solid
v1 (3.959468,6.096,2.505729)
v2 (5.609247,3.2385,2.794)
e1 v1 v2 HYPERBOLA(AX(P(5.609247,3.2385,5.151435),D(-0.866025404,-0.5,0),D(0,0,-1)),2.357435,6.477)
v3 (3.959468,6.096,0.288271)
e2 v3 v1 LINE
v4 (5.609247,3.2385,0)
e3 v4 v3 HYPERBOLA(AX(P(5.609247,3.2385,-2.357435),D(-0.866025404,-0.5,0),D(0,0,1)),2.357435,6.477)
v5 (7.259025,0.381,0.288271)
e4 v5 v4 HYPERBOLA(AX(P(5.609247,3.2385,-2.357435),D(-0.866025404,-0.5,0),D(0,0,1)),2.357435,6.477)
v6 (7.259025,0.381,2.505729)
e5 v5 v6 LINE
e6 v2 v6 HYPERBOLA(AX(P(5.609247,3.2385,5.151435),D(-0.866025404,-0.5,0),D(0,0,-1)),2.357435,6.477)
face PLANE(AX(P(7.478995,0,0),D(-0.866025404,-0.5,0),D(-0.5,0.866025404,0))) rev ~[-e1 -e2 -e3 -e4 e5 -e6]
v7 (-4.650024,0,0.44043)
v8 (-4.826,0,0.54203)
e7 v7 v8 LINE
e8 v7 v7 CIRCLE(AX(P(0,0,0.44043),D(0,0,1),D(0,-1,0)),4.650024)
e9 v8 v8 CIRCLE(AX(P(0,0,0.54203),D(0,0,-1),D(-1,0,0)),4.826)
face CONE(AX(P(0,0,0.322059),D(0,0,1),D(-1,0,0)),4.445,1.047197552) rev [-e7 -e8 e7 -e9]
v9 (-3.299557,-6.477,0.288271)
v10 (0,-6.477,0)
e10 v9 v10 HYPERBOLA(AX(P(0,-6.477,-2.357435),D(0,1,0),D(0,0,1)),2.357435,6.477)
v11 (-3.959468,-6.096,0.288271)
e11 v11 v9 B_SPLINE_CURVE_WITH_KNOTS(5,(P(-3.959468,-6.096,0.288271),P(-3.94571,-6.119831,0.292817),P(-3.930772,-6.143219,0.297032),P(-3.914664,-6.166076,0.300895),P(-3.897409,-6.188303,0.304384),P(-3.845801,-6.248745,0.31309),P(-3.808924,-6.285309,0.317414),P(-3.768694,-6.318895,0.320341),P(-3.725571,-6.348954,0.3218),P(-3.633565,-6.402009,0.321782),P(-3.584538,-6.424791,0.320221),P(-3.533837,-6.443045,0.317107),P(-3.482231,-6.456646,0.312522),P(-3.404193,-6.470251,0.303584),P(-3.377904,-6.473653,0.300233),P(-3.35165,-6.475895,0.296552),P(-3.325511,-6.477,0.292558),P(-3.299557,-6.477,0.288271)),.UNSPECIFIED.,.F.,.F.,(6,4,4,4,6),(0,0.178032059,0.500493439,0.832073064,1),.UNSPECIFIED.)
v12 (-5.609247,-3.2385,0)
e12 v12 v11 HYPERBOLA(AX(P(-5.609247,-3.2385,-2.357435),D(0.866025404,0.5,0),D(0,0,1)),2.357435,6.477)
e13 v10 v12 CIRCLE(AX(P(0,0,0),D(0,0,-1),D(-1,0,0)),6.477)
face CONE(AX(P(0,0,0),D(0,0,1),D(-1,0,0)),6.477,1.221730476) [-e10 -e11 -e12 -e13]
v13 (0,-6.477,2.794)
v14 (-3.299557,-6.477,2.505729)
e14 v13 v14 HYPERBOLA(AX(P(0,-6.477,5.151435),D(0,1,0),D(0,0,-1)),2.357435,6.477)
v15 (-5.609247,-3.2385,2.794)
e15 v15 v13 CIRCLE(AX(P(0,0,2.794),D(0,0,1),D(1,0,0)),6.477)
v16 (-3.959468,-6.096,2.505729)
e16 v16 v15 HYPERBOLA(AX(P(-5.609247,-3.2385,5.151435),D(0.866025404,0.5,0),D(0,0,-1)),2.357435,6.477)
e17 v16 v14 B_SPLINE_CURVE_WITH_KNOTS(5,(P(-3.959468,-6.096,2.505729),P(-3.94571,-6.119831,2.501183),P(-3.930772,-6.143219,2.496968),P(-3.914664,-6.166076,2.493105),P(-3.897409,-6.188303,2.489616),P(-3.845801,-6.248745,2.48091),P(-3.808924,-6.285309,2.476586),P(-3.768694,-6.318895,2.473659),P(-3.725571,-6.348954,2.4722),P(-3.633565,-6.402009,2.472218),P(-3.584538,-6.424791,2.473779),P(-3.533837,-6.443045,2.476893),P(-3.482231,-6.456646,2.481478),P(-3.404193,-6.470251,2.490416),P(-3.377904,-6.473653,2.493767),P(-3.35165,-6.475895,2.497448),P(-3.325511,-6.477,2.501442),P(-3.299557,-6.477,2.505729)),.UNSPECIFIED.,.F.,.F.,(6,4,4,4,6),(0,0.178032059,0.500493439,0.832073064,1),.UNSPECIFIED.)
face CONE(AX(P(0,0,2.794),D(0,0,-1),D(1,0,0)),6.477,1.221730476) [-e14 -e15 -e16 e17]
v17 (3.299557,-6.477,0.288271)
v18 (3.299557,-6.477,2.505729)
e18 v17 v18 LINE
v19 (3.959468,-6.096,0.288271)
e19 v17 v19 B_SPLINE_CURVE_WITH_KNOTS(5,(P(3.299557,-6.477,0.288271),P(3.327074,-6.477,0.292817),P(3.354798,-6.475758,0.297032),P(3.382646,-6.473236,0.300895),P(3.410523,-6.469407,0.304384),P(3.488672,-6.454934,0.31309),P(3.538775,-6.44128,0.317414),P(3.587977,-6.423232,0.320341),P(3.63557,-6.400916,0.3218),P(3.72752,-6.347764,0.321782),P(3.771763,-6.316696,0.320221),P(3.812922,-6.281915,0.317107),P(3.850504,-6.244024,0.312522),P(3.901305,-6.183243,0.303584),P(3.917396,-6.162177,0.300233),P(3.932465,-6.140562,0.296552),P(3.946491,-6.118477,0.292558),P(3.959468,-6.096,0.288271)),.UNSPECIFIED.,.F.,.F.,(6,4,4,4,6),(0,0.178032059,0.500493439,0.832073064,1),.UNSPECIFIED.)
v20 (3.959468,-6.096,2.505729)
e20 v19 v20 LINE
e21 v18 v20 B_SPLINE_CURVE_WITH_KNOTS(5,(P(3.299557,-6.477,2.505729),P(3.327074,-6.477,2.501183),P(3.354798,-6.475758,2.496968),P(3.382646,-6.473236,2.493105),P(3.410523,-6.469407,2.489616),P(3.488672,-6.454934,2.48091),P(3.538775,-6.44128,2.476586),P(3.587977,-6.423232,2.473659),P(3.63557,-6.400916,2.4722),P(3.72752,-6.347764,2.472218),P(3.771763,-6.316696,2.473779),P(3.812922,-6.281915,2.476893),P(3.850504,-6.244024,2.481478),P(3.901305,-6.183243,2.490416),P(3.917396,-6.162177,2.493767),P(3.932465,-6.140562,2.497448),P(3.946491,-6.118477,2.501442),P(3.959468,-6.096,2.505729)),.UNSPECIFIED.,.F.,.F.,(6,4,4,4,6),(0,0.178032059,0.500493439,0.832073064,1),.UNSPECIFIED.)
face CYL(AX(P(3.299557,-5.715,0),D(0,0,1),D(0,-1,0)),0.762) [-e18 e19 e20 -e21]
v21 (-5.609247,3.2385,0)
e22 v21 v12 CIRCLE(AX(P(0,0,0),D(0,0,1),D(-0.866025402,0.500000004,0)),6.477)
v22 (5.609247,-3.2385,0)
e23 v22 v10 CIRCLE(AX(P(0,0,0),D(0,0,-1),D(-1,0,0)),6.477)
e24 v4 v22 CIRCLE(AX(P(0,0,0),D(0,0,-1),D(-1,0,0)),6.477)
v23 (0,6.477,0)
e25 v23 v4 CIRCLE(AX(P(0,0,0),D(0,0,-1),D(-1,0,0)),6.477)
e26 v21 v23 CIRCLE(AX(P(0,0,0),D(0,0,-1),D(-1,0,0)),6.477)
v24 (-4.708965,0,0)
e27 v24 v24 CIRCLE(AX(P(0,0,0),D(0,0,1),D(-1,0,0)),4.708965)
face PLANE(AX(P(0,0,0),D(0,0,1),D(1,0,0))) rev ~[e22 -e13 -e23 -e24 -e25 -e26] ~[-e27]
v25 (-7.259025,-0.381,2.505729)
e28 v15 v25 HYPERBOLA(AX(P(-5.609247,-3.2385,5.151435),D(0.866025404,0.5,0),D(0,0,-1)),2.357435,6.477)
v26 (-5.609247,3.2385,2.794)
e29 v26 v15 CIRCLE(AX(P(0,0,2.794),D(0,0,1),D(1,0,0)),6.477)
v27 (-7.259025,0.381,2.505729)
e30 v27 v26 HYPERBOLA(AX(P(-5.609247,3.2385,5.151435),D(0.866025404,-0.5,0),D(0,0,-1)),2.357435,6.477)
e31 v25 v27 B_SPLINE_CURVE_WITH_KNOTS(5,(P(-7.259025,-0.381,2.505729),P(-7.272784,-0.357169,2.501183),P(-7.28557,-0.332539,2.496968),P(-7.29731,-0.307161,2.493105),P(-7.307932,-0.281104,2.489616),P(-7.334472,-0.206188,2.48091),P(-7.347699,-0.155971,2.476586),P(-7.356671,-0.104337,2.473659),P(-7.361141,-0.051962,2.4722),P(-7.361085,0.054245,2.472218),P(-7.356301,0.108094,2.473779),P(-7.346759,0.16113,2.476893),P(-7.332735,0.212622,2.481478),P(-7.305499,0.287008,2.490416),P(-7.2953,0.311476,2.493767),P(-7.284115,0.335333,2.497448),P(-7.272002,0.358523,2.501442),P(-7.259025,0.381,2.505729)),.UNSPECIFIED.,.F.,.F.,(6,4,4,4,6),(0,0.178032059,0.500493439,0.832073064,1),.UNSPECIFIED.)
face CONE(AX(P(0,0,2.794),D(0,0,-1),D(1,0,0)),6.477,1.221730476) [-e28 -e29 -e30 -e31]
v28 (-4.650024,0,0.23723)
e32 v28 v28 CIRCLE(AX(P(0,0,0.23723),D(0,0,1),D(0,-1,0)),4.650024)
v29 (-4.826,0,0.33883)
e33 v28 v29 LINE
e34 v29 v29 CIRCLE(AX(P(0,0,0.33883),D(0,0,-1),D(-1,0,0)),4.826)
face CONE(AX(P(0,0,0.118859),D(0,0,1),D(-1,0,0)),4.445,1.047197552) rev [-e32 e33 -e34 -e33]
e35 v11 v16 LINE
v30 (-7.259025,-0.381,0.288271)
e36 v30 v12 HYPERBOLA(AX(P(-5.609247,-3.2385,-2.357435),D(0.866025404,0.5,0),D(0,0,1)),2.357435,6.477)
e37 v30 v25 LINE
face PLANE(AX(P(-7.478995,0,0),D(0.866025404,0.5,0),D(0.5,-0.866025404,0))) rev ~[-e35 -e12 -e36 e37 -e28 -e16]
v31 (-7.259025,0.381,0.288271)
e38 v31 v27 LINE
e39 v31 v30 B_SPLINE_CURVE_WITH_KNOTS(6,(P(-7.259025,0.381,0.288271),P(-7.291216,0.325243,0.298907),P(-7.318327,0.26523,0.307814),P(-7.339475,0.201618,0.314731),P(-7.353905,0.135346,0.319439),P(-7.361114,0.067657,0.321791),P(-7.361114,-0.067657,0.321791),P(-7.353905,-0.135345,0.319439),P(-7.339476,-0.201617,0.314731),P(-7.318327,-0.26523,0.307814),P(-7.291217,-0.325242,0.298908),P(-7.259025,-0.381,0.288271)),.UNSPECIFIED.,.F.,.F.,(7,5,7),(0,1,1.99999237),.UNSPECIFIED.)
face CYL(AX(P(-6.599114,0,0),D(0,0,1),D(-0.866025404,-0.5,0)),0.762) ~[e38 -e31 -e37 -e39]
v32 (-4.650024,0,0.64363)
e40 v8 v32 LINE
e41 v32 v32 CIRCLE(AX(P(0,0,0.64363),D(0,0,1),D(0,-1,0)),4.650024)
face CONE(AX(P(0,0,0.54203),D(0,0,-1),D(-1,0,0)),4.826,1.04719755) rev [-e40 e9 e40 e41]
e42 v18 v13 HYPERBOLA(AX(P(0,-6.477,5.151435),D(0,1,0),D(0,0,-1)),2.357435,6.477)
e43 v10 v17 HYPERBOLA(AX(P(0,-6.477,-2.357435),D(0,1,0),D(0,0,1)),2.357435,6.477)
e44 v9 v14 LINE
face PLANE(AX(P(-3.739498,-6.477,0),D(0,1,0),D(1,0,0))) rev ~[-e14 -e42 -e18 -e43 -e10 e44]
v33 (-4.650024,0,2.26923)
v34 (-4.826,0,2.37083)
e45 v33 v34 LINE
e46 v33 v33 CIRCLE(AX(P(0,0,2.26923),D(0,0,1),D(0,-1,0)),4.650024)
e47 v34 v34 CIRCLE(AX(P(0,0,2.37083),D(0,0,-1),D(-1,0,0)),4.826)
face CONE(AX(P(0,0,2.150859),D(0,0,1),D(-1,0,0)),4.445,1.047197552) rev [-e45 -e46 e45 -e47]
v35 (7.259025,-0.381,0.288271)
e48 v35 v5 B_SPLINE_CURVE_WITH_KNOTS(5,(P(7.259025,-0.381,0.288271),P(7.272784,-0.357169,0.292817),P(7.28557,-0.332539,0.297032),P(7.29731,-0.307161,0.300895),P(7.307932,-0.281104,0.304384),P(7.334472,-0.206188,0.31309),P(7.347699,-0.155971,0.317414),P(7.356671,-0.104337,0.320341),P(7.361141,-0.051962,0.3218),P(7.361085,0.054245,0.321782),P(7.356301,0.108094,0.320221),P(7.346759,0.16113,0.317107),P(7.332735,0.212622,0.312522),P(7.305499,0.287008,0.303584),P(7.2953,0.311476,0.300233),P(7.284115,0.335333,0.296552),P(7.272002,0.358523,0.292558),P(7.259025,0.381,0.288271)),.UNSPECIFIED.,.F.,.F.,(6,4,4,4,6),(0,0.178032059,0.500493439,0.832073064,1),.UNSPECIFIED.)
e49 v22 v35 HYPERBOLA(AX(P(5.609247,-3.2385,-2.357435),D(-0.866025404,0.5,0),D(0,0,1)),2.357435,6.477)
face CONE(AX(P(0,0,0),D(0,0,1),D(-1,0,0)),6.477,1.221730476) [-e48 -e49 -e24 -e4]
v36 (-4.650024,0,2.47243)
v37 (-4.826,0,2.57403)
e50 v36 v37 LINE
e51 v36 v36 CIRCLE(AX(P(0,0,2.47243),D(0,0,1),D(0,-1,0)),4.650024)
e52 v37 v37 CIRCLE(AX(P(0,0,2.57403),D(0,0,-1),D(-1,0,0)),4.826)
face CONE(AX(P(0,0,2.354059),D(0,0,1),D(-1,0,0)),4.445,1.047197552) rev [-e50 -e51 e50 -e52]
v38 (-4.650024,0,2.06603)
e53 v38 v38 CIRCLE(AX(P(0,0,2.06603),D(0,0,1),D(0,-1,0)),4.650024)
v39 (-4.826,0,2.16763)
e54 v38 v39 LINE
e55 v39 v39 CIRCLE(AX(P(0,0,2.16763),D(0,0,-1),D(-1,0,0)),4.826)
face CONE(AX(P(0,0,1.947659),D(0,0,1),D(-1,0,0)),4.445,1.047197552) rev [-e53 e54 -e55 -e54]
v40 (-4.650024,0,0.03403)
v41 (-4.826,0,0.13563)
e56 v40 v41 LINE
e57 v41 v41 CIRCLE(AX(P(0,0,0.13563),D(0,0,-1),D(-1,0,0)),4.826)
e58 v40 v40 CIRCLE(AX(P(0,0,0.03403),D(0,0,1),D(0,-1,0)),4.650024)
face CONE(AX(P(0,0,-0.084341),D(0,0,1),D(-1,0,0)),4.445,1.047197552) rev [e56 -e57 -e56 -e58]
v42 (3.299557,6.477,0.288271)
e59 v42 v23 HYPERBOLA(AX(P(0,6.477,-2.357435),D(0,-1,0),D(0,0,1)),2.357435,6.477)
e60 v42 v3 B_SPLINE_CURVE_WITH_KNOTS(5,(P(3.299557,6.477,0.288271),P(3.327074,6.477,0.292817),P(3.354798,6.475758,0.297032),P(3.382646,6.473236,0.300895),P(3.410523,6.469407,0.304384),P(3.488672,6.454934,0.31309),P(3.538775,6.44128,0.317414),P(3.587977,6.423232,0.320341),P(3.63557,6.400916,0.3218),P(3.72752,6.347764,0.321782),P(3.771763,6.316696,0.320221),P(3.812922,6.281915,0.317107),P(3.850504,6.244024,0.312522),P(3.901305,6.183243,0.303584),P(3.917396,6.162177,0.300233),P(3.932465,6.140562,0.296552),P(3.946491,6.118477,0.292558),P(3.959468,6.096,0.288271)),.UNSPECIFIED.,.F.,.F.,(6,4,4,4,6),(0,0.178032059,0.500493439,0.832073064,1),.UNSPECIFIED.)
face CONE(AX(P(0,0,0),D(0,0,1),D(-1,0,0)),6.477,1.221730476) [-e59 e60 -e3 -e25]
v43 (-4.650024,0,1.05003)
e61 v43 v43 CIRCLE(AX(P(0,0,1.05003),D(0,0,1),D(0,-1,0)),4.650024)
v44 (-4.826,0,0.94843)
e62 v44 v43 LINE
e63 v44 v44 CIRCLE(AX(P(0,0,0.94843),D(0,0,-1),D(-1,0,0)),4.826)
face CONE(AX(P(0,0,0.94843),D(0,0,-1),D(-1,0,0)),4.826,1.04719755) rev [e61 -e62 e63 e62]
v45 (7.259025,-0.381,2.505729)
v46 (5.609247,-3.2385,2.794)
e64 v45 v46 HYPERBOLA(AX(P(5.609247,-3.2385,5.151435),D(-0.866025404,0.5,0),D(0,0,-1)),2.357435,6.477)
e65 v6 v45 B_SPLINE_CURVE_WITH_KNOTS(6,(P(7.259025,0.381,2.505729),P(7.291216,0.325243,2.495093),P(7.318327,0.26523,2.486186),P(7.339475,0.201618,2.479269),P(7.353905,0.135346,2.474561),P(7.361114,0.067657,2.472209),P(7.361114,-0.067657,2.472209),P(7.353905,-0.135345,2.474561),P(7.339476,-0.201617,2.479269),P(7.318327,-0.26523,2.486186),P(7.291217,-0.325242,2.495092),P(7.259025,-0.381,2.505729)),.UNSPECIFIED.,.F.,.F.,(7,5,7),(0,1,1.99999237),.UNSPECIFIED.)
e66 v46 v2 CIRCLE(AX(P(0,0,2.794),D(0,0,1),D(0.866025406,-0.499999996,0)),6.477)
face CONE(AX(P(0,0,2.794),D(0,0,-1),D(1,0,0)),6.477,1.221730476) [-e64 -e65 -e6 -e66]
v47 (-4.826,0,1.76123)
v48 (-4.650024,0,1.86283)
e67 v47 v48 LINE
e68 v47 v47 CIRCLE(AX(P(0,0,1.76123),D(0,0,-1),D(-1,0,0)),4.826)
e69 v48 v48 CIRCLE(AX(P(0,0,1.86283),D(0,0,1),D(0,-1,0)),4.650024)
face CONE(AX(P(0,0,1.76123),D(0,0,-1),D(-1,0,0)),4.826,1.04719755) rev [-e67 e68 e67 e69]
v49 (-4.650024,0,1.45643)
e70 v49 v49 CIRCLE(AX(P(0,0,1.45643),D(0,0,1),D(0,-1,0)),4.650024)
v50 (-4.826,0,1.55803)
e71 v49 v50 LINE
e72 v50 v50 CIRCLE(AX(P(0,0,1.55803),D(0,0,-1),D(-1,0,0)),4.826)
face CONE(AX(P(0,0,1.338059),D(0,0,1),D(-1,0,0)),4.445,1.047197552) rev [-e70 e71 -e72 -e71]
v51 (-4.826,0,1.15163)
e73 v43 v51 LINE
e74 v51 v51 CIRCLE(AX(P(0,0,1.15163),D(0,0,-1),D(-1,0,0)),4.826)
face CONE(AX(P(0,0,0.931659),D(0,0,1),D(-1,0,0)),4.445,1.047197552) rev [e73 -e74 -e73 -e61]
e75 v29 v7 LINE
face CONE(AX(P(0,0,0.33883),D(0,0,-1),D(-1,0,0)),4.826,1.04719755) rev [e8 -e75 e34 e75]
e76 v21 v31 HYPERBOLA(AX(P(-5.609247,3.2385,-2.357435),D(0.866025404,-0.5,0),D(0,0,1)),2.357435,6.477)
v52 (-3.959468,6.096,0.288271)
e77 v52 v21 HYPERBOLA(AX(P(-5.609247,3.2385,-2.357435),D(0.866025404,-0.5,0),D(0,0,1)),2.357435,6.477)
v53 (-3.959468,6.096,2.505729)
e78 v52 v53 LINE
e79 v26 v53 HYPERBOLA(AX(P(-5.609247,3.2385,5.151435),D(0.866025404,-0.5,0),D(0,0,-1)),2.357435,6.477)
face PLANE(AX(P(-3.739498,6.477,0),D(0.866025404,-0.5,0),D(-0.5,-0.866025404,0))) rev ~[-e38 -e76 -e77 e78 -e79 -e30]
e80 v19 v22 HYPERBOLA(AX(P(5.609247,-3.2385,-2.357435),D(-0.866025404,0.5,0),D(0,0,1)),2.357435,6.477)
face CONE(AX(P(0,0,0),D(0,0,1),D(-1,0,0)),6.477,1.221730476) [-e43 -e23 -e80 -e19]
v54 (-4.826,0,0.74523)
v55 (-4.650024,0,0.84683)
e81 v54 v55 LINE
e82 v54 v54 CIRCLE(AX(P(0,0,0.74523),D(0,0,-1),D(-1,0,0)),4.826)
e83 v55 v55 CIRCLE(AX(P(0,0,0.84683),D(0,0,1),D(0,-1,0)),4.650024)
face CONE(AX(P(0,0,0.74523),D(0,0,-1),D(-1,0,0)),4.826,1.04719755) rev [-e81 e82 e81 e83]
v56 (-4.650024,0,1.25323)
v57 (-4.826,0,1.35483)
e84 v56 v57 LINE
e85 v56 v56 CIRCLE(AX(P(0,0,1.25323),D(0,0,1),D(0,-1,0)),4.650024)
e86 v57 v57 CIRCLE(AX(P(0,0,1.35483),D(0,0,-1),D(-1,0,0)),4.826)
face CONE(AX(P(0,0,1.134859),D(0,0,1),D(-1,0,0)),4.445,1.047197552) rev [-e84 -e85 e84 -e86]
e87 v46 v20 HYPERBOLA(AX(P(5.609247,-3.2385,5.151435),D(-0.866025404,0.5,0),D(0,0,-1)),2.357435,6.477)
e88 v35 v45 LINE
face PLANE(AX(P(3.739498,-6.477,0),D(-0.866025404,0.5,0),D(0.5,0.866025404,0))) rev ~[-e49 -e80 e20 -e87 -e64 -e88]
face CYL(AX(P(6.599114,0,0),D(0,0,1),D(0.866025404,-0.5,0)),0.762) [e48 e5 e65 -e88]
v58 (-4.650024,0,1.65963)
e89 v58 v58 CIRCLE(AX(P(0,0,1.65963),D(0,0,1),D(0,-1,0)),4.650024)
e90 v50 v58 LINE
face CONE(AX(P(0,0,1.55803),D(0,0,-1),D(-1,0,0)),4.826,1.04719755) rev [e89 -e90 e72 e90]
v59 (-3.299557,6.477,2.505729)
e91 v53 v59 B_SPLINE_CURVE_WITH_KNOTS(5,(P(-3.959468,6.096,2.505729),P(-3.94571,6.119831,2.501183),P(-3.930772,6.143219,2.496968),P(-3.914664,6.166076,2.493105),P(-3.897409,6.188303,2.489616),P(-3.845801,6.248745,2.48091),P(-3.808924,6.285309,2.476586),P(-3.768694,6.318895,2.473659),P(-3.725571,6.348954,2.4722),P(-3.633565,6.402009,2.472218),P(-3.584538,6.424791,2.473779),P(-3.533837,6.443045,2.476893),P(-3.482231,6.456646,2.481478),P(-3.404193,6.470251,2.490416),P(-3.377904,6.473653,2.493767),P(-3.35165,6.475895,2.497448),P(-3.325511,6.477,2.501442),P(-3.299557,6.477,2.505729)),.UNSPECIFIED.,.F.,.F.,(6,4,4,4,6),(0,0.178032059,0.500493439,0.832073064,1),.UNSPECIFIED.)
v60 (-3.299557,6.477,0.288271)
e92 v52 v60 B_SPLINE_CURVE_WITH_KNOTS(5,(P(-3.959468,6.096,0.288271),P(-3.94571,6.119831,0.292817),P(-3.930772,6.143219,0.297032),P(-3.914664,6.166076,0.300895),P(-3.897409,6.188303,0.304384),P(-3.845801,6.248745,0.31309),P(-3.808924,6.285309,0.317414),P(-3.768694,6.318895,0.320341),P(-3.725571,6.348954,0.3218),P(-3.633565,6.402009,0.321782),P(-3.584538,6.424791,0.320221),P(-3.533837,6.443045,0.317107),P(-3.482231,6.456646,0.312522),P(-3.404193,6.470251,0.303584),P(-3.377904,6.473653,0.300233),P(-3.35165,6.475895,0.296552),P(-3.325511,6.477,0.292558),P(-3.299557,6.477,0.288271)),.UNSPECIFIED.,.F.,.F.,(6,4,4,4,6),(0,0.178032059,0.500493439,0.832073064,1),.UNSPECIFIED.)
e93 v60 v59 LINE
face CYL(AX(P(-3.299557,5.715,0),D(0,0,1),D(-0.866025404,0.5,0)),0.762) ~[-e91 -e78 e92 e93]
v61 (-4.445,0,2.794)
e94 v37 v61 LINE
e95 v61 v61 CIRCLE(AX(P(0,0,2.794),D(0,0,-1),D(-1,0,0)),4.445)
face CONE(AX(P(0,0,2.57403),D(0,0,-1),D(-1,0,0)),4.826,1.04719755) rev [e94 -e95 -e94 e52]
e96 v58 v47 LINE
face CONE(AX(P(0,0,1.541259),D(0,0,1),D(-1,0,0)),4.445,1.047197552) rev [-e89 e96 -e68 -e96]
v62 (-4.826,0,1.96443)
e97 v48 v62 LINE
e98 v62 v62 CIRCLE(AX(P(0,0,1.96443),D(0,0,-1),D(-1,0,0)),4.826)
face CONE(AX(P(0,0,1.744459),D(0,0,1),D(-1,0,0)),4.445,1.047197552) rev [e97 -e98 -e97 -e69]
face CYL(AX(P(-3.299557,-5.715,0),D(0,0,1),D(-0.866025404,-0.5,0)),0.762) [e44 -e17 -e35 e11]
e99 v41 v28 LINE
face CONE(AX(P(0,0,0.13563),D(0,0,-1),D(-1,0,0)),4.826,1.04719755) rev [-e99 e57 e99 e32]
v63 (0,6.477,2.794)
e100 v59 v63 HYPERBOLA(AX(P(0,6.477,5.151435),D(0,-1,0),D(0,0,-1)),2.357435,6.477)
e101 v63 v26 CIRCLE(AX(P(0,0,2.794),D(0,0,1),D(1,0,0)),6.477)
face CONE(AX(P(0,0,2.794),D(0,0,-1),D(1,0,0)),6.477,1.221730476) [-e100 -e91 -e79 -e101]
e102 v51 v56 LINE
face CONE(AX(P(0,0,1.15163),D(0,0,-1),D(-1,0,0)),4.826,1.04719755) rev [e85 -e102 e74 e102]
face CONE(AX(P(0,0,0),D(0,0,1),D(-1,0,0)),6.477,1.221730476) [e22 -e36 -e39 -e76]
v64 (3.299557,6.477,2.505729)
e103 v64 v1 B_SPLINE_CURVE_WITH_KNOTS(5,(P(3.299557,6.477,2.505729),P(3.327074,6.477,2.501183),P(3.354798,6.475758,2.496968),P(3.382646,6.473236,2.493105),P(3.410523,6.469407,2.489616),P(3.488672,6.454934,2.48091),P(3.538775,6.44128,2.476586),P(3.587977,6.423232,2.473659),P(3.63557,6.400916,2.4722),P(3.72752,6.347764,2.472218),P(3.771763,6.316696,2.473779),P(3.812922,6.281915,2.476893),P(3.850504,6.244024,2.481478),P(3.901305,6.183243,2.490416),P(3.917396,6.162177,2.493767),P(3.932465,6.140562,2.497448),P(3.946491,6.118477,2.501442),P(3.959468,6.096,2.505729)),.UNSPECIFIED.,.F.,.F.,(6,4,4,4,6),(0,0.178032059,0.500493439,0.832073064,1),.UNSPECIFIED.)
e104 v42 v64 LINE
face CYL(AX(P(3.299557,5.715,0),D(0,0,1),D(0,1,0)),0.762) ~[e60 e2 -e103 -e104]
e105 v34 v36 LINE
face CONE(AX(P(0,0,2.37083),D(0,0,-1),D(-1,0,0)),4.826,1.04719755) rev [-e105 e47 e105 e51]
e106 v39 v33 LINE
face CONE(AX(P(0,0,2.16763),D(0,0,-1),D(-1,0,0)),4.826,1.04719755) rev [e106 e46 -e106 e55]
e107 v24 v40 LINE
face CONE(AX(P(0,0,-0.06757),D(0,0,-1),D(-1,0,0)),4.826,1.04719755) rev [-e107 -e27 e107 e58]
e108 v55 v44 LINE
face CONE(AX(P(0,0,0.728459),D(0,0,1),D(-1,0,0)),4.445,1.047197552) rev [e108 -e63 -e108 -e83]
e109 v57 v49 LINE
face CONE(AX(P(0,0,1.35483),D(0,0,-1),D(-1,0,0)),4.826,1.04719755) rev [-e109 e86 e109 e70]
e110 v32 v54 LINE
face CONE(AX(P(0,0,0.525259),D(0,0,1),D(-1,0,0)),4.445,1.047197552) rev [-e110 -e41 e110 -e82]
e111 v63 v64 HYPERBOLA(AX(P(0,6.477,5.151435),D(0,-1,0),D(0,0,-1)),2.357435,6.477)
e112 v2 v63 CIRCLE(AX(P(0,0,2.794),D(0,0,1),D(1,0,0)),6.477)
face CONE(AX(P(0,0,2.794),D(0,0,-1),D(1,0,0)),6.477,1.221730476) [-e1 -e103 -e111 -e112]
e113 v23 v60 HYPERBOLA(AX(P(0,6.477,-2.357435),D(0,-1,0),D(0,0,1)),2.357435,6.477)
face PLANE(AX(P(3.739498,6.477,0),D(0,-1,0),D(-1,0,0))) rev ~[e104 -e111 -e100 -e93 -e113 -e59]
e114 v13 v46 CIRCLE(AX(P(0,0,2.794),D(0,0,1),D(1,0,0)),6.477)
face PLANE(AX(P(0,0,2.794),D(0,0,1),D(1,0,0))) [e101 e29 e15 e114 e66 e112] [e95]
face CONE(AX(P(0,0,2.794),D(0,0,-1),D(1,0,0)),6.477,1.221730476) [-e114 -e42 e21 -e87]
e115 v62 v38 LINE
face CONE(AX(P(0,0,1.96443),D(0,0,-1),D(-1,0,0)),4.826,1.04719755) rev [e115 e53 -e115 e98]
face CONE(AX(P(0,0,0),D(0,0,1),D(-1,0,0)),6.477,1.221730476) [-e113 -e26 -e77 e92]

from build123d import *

# Parameters (mm, degrees)
SKETCH1_R          = 4.445
EXTRUDE1_DEPTH     = 2.794
FILLET1_R          = 0.762
SKETCH2_OUTSIDE_W  = 41.532
SKETCH2_OUTSIDE_H  = 39.764
SKETCH2_OUTSIDE_R  = 6.477
CUT_EXTRUDE1_DEPTH = 3.794
CUT_EXTRUDE1_DRAFT = -70
SKETCH3_OUTSIDE_W  = 41.532
SKETCH3_OUTSIDE_H  = 39.764
SKETCH3_OUTSIDE_R  = 6.477
CUT_EXTRUDE2_DEPTH = 3.7940001
CUT_EXTRUDE2_DRAFT = -70
LPATTERN1_COUNT    = 14
LPATTERN1_PITCH    = 0.2032


with BuildPart() as part:
    # Sketch1 → Extrude1 (new body)
    with BuildSketch(Plane.XY):
        Polygon((-7.478995387, 0), (-3.739497694, -6.477), (3.739497694, -6.477), (7.478995387, 0), (3.739497694, 6.477), (-3.739497694, 6.477), align=None)
        Circle(SKETCH1_R, mode=Mode.SUBTRACT)
    extrude(amount=EXTRUDE1_DEPTH)

    # Fillet1
    fillet1_edges = [part.edges().sort_by_distance(p)[0] for p in [
        (7.478995387, 0, 1.397),
        (3.739497694, -6.477, 1.397),
        (-3.739497694, -6.477, 1.397),
        (-7.478995387, 0, 1.397),
        (-3.739497694, 6.477, 1.397),
        (3.739497694, 6.477, 1.397),
    ]]
    fillet(fillet1_edges, radius=FILLET1_R)


with BuildPart() as cut_extrude1_tool:
    # Sketch2 outside → Cut-Extrude1 (with draft: the straight prism first)
    with BuildSketch(Plane.XY.offset(2.794)):
        Rectangle(SKETCH2_OUTSIDE_W, SKETCH2_OUTSIDE_H)
        Circle(SKETCH2_OUTSIDE_R, mode=Mode.SUBTRACT)
    extrude(amount=-CUT_EXTRUDE1_DEPTH)
    # Cut-Extrude1: the draft: its side faces are tilted about the plane it starts from
    cut_extrude1_sides = [cut_extrude1_tool.faces().sort_by_distance(p)[0] for p in [
        (0, -19.882, 0.897),
        (20.766, 0, 0.897),
        (0, 19.882, 0.897),
        (-20.766, 0, 0.897),
        (-6.477, 0, 0.897),
    ]]
    draft(cut_extrude1_sides, Plane.XY.offset(2.794), CUT_EXTRUDE1_DRAFT)


with BuildPart() as part_1:
    add(part.part)

    # Cut-Extrude1: cut by cut_extrude1_tool
    add(cut_extrude1_tool.part, mode=Mode.SUBTRACT)


with BuildPart() as cut_extrude2_tool:
    # Sketch3 outside → Cut-Extrude2 (with draft: the straight prism first)
    with BuildSketch(Plane(origin=(0, 0, 0), x_dir=(-1, 0, 0), z_dir=(0, 0, -1))):
        Rectangle(SKETCH3_OUTSIDE_W, SKETCH3_OUTSIDE_H)
        Circle(SKETCH3_OUTSIDE_R, mode=Mode.SUBTRACT)
    extrude(amount=-CUT_EXTRUDE2_DEPTH)
    # Cut-Extrude2: the draft: its side faces are tilted about the plane it starts from
    cut_extrude2_sides = [cut_extrude2_tool.faces().sort_by_distance(p)[0] for p in [
        (0, -19.882, 1.89700005),
        (-20.766, 0, 1.89700005),
        (0, 19.882, 1.89700005),
        (20.766, 0, 1.89700005),
        (6.477, 0, 1.89700005),
    ]]
    draft(cut_extrude2_sides, Plane(origin=(0, 0, 0), x_dir=(-1, 0, 0), z_dir=(0, 0, -1)), CUT_EXTRUDE2_DRAFT)


with BuildPart() as part_2:
    add(part_1.part)

    # Cut-Extrude2: cut by cut_extrude2_tool
    add(cut_extrude2_tool.part, mode=Mode.SUBTRACT)

    # Sketch4 → Cut-Revolve1 (revolve, cut)
    with BuildSketch(Plane(origin=(0, 0, 0), x_dir=(1, 0, 0), z_dir=(0, 1, 0))):
        Polygon((-4.445, -2.794), (-4.445, -2.354059095), (-4.826, -2.574029547), align=None)
    cut_revolve1 = revolve(axis=Axis((0, 0, 2.794), (0, 0, -1)), mode=Mode.SUBTRACT)

    # LPattern1: Cut-Revolve1 ×14
    with Locations(*[(0, 0, -i * LPATTERN1_PITCH) for i in range(1, LPATTERN1_COUNT)]):
        add(cut_revolve1, mode=Mode.SUBTRACT)


solid = part_2.part
